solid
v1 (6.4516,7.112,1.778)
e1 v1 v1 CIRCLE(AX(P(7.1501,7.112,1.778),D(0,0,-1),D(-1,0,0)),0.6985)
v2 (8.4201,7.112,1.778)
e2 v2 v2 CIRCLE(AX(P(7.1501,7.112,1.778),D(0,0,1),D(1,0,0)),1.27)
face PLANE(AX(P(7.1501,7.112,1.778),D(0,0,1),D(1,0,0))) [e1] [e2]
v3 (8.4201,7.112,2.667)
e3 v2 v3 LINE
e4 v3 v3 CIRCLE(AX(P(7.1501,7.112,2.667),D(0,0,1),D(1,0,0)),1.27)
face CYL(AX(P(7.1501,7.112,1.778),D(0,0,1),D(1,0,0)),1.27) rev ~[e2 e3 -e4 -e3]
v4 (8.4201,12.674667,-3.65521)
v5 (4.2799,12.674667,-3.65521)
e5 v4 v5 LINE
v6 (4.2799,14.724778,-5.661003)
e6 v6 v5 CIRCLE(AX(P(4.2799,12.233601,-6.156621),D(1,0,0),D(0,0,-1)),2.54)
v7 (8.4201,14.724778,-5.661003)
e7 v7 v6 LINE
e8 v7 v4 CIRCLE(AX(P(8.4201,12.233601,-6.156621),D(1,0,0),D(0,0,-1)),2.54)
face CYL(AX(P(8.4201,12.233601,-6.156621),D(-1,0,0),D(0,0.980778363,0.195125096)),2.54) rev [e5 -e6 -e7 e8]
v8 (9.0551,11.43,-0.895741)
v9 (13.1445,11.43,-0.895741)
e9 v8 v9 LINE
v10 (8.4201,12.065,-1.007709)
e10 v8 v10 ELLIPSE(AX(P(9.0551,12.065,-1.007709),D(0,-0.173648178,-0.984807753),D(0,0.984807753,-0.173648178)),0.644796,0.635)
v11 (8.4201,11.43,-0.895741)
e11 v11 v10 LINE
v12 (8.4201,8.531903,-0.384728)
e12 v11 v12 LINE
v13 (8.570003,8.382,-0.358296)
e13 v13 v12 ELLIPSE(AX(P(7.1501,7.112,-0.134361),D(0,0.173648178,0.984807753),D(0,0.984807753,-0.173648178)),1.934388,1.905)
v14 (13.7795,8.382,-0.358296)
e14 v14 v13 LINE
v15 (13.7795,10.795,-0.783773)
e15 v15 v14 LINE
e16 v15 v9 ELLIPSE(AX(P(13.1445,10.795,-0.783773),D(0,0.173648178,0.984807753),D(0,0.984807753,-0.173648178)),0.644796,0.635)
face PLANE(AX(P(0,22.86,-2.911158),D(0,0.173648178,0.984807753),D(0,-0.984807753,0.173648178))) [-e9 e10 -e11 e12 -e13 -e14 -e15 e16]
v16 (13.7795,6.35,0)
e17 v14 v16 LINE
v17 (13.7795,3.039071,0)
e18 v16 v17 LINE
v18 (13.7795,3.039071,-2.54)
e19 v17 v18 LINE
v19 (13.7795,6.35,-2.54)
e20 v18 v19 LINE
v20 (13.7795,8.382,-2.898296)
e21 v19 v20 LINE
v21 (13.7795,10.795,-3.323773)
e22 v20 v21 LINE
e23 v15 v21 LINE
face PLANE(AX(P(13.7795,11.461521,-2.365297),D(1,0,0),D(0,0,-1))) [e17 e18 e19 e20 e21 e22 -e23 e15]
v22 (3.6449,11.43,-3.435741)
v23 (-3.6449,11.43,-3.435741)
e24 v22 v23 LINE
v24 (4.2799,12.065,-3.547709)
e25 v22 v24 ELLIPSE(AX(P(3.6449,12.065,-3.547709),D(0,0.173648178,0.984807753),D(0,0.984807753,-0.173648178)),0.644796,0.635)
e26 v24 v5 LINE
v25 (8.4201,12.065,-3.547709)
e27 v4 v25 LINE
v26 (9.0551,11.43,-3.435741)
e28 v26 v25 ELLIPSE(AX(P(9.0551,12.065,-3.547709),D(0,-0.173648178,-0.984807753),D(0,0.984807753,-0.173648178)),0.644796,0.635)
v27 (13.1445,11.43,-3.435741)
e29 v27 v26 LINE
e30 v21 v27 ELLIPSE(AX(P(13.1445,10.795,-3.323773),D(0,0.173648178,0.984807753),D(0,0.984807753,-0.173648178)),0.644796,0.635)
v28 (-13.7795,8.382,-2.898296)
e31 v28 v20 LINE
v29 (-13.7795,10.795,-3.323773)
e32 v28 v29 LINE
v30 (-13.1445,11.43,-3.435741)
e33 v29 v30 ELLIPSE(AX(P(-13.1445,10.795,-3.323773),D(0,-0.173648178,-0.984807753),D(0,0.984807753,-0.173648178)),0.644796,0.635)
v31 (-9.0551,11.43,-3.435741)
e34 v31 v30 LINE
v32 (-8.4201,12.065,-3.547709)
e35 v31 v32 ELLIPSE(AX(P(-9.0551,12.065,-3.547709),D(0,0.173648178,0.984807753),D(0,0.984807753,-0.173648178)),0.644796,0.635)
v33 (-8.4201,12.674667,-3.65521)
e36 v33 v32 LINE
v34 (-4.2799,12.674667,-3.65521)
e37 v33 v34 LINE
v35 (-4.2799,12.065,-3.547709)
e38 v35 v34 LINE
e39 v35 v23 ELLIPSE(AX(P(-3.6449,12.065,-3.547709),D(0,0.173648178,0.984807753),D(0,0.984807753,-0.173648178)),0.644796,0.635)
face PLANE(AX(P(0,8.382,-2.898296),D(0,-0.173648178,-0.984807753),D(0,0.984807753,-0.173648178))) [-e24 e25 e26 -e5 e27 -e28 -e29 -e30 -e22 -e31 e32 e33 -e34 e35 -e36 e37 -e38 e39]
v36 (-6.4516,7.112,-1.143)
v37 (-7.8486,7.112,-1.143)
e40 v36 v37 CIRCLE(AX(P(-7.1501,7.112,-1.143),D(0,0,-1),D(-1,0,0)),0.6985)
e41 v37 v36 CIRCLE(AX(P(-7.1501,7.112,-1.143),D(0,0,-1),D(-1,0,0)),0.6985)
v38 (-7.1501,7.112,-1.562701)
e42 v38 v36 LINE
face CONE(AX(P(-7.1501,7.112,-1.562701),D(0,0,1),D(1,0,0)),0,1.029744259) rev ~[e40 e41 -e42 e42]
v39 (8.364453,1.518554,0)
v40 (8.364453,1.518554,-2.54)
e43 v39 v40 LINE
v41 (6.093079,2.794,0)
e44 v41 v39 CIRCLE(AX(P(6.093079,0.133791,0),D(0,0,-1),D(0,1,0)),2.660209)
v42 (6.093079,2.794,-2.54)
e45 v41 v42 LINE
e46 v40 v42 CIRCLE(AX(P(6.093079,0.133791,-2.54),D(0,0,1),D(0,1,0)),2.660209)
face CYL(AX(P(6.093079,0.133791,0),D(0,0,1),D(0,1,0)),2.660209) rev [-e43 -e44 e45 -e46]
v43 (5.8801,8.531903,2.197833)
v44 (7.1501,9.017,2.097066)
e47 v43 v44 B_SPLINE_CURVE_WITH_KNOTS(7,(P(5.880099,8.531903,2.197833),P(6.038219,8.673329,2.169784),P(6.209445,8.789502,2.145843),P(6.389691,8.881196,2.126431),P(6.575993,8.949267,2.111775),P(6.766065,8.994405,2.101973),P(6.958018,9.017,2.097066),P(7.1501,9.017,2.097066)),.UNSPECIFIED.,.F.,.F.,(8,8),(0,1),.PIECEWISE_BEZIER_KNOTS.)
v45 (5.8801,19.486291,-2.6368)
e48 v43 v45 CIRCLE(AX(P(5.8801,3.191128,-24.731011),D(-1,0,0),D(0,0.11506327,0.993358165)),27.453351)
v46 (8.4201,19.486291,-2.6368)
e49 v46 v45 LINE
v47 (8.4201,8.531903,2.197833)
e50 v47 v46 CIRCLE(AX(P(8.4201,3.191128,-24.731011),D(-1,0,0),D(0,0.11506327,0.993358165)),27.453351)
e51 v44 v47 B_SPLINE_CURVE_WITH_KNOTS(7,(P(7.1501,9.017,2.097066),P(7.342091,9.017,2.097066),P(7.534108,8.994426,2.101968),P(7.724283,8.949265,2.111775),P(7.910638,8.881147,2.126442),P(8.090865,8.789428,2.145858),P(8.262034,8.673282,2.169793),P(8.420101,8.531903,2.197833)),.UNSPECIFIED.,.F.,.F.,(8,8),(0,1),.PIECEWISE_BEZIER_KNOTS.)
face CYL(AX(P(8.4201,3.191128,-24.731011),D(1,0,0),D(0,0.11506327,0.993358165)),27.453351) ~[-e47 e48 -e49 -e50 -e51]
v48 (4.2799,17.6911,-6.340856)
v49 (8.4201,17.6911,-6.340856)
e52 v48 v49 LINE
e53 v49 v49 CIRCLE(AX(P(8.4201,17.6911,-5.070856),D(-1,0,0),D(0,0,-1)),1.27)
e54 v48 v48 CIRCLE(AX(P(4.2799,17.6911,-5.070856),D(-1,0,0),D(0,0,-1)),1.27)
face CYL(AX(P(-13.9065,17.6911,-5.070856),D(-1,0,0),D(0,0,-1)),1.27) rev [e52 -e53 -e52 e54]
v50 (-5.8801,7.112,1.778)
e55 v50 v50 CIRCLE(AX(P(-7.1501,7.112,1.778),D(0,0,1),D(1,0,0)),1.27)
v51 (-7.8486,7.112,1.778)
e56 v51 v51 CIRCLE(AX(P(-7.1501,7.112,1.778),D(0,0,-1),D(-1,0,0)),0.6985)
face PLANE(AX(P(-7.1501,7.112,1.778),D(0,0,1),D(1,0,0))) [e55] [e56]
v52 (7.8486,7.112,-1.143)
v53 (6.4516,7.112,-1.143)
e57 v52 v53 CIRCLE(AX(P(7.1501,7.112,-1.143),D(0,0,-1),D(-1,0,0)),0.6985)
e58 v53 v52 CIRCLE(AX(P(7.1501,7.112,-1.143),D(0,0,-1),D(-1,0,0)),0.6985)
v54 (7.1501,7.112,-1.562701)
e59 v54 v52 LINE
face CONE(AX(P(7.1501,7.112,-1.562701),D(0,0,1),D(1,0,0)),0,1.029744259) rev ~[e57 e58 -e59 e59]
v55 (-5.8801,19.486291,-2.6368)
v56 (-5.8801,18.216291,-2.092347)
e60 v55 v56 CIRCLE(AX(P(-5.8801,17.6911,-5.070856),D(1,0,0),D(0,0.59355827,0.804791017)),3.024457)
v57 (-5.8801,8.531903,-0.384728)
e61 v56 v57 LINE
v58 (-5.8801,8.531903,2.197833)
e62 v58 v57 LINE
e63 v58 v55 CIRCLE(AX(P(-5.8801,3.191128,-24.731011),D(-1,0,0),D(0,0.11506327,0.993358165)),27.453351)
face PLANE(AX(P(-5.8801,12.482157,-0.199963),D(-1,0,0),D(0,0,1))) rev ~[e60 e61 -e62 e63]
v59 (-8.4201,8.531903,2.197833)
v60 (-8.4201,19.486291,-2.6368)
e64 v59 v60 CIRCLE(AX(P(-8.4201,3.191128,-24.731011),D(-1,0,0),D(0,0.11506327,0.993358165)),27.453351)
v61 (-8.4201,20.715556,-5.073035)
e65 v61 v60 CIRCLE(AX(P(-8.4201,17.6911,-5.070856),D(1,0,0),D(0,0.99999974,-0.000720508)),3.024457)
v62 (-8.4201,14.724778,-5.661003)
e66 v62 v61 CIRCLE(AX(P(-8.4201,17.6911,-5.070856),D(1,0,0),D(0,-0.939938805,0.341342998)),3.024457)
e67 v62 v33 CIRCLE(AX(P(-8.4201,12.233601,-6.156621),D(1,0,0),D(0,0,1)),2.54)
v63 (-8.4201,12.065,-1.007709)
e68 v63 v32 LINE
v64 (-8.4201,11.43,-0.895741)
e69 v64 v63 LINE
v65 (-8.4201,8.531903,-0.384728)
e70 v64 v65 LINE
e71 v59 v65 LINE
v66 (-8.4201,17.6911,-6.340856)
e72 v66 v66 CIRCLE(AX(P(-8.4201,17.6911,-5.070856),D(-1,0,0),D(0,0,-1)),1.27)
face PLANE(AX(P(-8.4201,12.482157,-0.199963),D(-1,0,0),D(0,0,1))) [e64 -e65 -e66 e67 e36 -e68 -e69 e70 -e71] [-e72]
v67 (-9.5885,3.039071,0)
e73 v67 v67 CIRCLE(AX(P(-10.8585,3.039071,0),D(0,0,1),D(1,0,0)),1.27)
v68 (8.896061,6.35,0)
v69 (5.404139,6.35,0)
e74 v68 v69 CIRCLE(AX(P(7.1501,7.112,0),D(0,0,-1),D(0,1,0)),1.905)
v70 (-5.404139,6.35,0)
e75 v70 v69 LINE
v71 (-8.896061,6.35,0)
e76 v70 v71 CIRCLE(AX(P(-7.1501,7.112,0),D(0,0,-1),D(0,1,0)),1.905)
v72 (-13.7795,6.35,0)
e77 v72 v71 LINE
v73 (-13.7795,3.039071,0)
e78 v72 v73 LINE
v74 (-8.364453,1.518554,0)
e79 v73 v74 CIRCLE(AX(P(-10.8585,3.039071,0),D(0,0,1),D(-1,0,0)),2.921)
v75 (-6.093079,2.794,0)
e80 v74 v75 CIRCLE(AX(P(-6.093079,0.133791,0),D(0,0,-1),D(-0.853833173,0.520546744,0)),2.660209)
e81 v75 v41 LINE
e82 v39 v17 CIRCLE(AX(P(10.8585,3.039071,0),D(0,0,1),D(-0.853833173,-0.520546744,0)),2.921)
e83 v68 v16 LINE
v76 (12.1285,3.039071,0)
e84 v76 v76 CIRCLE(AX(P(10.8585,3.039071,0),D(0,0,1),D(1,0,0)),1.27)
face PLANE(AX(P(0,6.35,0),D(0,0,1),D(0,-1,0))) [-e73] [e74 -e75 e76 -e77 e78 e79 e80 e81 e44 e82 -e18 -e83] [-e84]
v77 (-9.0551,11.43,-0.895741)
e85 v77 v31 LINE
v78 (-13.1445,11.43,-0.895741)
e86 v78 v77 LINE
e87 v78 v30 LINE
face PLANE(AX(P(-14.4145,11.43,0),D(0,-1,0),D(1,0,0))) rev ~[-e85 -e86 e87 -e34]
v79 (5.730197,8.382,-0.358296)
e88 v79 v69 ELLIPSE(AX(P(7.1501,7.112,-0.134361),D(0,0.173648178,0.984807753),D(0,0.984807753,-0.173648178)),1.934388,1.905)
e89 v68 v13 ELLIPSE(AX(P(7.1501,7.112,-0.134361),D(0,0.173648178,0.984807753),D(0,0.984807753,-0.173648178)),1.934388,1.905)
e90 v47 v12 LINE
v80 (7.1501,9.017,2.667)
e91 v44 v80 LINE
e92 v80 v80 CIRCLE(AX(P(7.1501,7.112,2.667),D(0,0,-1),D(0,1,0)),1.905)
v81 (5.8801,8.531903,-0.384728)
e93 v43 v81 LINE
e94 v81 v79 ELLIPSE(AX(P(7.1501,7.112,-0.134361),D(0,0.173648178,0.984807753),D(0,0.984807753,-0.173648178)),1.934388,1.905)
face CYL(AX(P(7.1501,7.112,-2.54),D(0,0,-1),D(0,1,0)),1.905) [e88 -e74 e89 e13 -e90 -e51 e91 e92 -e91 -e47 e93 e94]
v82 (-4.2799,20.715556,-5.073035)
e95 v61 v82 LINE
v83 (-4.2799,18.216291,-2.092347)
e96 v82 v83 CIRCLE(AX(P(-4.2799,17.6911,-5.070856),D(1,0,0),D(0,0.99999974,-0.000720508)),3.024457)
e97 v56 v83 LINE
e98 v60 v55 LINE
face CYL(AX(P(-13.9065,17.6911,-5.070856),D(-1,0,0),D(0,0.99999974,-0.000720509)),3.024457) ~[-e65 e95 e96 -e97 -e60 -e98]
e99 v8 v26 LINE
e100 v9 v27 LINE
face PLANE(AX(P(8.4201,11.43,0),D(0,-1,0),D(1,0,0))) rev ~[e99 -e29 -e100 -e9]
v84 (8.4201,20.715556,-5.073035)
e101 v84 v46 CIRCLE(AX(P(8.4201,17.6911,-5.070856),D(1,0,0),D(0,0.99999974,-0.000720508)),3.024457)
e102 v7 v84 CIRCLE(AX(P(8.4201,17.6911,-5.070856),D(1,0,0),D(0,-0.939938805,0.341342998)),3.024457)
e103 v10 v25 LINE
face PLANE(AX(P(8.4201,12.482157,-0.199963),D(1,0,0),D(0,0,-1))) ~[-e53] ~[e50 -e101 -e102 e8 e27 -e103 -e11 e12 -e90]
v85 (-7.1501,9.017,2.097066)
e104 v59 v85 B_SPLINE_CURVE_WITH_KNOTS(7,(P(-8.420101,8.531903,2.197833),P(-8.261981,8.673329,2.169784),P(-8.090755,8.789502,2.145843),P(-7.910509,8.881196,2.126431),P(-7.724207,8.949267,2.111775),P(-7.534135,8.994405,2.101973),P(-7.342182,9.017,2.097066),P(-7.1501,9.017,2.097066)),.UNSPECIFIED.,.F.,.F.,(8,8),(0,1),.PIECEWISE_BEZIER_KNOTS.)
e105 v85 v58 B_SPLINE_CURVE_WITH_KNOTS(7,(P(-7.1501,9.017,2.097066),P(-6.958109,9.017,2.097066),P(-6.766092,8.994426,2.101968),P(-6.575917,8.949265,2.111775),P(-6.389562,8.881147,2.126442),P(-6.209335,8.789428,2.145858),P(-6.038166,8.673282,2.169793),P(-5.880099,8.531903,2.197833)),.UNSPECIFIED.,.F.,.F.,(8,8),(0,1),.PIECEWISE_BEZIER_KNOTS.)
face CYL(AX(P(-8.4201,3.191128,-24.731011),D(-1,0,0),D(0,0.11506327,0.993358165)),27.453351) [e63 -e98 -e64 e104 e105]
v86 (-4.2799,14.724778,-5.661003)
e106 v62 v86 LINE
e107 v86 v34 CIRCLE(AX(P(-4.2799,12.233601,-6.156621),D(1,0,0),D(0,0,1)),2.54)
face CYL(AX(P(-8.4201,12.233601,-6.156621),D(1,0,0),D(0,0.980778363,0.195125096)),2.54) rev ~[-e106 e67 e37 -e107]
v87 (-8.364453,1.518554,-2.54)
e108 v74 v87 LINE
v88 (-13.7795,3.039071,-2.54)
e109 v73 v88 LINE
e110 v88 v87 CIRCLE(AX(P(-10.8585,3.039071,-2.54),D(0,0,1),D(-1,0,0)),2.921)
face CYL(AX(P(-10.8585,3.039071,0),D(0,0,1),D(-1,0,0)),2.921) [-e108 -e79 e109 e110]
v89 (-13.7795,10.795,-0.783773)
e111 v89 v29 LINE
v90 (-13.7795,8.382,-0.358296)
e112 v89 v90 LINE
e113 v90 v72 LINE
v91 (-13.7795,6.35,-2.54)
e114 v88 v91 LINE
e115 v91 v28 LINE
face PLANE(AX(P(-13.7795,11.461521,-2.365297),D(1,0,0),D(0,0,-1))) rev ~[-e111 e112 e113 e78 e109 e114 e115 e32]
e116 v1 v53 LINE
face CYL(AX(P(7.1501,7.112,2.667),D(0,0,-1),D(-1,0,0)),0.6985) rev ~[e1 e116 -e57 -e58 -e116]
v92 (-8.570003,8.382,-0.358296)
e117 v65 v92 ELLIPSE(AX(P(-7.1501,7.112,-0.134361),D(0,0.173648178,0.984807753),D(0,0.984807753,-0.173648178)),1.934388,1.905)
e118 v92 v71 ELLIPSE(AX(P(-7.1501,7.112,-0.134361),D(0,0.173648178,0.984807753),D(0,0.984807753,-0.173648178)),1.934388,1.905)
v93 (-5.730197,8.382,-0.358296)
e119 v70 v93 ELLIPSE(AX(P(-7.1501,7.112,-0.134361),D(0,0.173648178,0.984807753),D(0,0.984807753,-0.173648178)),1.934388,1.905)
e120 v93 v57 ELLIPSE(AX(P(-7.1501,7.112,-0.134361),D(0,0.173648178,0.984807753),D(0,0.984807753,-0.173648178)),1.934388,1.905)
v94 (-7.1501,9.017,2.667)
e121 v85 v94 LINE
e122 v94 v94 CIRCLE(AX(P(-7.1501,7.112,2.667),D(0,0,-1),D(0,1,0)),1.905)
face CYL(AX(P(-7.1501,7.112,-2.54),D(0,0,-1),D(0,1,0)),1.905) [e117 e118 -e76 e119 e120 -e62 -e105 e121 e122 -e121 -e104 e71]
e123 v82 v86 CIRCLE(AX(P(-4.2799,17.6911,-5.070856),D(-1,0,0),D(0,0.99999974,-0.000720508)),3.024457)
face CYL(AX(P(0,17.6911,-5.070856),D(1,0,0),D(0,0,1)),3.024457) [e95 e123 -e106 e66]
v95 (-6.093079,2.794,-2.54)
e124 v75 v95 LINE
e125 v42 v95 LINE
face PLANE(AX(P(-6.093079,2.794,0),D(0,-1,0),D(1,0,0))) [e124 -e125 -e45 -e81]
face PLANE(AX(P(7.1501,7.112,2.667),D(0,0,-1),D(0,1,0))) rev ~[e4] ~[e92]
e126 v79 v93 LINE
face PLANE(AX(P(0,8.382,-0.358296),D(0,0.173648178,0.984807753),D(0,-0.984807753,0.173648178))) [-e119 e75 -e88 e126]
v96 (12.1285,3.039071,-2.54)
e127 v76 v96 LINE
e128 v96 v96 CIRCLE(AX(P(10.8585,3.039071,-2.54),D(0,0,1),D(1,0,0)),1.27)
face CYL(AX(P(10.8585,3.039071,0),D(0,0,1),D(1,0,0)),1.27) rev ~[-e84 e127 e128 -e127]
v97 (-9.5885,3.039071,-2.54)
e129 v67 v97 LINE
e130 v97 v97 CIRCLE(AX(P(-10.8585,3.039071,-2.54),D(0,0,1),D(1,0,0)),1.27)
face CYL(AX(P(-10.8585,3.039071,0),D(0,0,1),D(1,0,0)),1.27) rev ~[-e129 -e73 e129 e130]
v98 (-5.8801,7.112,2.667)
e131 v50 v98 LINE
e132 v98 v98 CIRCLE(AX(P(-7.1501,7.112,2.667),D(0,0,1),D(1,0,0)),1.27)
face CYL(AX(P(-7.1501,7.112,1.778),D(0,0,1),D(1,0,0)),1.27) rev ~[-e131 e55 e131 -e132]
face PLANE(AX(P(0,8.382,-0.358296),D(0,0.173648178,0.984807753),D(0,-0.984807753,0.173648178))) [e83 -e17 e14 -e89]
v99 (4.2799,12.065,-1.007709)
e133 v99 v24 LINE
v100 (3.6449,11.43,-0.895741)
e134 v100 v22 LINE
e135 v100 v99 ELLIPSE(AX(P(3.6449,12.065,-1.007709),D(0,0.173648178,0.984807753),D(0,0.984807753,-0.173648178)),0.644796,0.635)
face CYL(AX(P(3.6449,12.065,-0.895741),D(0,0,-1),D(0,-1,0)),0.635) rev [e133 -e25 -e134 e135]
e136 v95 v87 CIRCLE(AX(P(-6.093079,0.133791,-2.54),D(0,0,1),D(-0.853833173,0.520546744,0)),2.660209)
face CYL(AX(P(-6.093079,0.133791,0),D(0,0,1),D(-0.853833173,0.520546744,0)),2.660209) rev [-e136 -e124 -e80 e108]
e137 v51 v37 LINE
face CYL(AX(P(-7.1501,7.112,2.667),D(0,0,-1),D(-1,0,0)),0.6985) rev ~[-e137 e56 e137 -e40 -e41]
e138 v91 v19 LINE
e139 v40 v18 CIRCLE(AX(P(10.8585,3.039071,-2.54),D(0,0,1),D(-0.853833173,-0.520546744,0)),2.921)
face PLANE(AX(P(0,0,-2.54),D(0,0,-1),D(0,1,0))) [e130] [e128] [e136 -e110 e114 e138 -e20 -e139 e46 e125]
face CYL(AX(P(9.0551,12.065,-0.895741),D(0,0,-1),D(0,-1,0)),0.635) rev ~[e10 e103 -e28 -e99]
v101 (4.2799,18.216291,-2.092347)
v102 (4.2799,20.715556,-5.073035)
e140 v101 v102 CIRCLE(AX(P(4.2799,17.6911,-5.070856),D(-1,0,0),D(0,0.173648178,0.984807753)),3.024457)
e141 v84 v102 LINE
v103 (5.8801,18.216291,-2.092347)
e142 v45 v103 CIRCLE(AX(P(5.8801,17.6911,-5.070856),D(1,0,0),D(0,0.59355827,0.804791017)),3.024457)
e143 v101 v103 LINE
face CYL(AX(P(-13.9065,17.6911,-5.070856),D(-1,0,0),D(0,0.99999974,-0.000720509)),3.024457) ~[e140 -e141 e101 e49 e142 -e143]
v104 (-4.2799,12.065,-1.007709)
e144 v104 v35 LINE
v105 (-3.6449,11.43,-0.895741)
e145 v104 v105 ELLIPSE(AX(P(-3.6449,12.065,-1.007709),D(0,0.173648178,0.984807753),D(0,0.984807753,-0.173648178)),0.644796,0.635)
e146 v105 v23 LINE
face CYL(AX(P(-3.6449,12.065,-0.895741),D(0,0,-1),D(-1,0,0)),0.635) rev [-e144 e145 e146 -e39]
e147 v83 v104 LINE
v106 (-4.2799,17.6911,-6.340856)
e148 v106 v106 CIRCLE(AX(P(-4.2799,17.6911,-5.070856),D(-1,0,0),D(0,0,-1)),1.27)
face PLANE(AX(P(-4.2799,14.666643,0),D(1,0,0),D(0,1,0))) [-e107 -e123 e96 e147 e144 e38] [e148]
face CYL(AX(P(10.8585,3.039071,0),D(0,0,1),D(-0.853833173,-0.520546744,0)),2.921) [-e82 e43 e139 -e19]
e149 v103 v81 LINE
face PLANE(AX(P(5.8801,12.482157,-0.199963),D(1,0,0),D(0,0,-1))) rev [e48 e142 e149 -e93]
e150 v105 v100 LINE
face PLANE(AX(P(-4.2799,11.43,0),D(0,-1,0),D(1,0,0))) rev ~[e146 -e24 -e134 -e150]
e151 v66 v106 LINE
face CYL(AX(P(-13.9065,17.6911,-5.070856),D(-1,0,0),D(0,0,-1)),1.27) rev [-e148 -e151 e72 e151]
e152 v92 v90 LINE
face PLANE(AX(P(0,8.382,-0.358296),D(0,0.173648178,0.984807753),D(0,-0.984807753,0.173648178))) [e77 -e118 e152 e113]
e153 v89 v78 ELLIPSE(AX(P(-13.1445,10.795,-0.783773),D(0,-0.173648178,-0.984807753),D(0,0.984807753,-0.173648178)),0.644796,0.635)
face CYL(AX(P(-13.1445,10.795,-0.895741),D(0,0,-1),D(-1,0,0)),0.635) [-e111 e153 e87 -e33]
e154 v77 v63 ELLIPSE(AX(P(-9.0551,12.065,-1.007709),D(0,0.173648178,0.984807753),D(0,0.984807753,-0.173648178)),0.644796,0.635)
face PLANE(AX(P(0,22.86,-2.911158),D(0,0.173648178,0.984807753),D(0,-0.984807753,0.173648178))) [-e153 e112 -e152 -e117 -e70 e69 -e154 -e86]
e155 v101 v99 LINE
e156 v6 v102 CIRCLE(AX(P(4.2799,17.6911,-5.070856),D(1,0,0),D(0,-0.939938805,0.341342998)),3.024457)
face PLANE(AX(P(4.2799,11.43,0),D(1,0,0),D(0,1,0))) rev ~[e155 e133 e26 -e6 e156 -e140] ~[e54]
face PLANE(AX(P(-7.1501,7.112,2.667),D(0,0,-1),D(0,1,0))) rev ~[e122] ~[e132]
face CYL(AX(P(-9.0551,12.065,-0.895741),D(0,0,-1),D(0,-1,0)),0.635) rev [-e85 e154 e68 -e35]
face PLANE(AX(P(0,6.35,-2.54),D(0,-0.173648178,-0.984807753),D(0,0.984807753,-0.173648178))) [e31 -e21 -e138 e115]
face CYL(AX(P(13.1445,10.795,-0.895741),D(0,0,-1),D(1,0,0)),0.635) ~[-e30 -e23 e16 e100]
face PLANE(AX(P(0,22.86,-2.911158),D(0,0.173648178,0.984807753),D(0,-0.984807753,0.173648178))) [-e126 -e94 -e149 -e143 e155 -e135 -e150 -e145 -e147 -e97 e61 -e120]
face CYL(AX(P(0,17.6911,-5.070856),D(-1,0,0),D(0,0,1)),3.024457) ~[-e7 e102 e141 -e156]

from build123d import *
from build123d.topology import SkipClean

# Parameters (mm, degrees)
BOSS_EXTRUDE1_DEPTH                                 = 13.7795
SKETCH3_R                                           = 1.27
CUT_EXTRUDE1_DEPTH                                  = 28.24278526
BOSS_EXTRUDE3_REACH                                 = 29.243
SKETCH4_R                                           = 3.024456955
BOSS_EXTRUDE3_DIRECTION_2_REACH                     = 29.243
CUT_EXTRUDE2_START                                  = -27.686
SKETCH5_R                                           = 1.27
CUT_EXTRUDE2_DEPTH                                  = 27.686
SKETCH6_W                                           = 5.3594
SKETCH6_H                                           = 6.04891391
SKETCH6_W_2                                         = 8.5598
CUT_EXTRUDE3_DEPTH                                  = 27.163772894
FILLET1_R                                           = 2.54
BOSS_EXTRUDE5_DEPTH                                 = 2.54
SKETCH8_R                                           = 1.905
BOSS_EXTRUDE6_DEPTH                                 = 5.207
CBORE_FOR_00_BINDING_HEAD_MACHINE_SCREW_D           = 1.397
CBORE_FOR_00_BINDING_HEAD_MACHINE_SCREW_DEPTH       = 3.81
CBORE_FOR_00_BINDING_HEAD_MACHINE_SCREW_CBORE_D     = 2.54
CBORE_FOR_00_BINDING_HEAD_MACHINE_SCREW_CBORE_DEPTH = 0.889
CBORE_FOR_00_BINDING_HEAD_MACHINE_SCREW_TIP         = 0.419701142
FILLET3_R                                           = 0.635


with BuildPart() as part:
    # Sketch2 → Boss-Extrude1 (new, symmetric)
    with BuildSketch(Plane(origin=(0, 0, 0), x_dir=(0, 0, -1), z_dir=(1, 0, 0))):
        Polygon((0.358296425, 8.382), (0, 6.35), (0, 0), (2.54, 0), (2.54, 6.35), (2.898296425, 8.382), (5.451158451, 22.86), (2.911158451, 22.86), align=None)
    extrude(amount=BOSS_EXTRUDE1_DEPTH, both=True)

    # Sketch3 → Cut-Extrude1 (cut, through all)
    with BuildSketch(Plane.XY):
        with Locations((-10.8585, 3.039071392)):
            Circle(SKETCH3_R)
        with Locations((10.8585, 3.039071392)):
            Circle(SKETCH3_R)
        with BuildLine():
            Line((-6.093079, 2.794), (6.093079, 2.794))
            ThreePointArc((6.093079, 2.794), (7.395567274, 2.453324554), (8.364453302, 1.518554352))
            ThreePointArc((8.364453302, 1.518554352), (11.648161508, 0.226834613), (13.7795, 3.039071392))
            Line((13.7795, 3.039071392), (14.4145, 3.039071392))
            Line((14.4145, 3.039071392), (14.4145, -0.635))
            Line((14.4145, -0.635), (-14.4145, -0.635))
            Line((-14.4145, -0.635), (-14.4145, 3.039071392))
            Line((-14.4145, 3.039071392), (-13.7795, 3.039071392))
            ThreePointArc((-13.7795, 3.039071392), (-11.648161508, 0.226834613), (-8.364453302, 1.518554352))
            ThreePointArc((-8.364453302, 1.518554352), (-7.395567274, 2.453324554), (-6.093079, 2.794))
        make_face()
        Polygon((-14.4145, 11.43), (-8.4201, 11.43), (-8.4201, 22.86), (-4.2799, 22.86), (-4.2799, 11.43), (4.2799, 11.43), (4.2799, 22.86), (8.4201, 22.86), (8.4201, 11.43), (14.4145, 11.43), (14.4145, 23.495), (-14.4145, 23.495), align=None)
    extrude(amount=-CUT_EXTRUDE1_DEPTH, mode=Mode.SUBTRACT)

    # Boss-Extrude3: up to this face of the body (flat: up to its plane)
    boss_extrude3_end = Plane(part.part.faces().sort_by_distance((13.7795, 7.234535696, -1.541147855))[0])
    # Sketch4 → Boss-Extrude3 (add, up to the picked face)
    with BuildSketch(Plane(origin=(0, 0, 0), x_dir=(0, 0, -1), z_dir=(1, 0, 0)), mode=Mode.PRIVATE) as boss_extrude3_sk1:
        with Locations(Location((5.070856, 17.6911, 0), (0, 0, 180))):
            Circle(SKETCH4_R)
    boss_extrude3_tool1 = split(extrude(boss_extrude3_sk1.sketch, amount=BOSS_EXTRUDE3_REACH, mode=Mode.PRIVATE), bisect_by=boss_extrude3_end, keep=Keep.BOTH, mode=Mode.PRIVATE)
    add(boss_extrude3_tool1.solids().sort_by(Axis((0, 17.6911, -5.070856), (1, 0, 0)))[0])

    # Boss-Extrude3 direction 2: up to this face of the body (flat: up to its plane)
    boss_extrude3_direction_2_end = Plane(part.part.faces().sort_by_distance((-13.7795, 7.234535696, -1.541147855))[0])
    # Sketch4 → Boss-Extrude3 direction 2 (add, up to the picked face)
    with BuildSketch(Plane(origin=(0, 0, 0), x_dir=(0, 0, -1), z_dir=(1, 0, 0)), mode=Mode.PRIVATE) as boss_extrude3_direction_2_sk1:
        with Locations(Location((5.070856, 17.6911, 0), (0, 0, 180))):
            Circle(SKETCH4_R)
    boss_extrude3_direction_2_tool1 = split(extrude(boss_extrude3_direction_2_sk1.sketch, amount=-BOSS_EXTRUDE3_DIRECTION_2_REACH, mode=Mode.PRIVATE), bisect_by=boss_extrude3_direction_2_end, keep=Keep.BOTH, mode=Mode.PRIVATE)
    add(boss_extrude3_direction_2_tool1.solids().sort_by(Axis((0, 17.6911, -5.070856), (-1, 0, 0)))[0])

    # Sketch5 → Cut-Extrude2 (cut)
    with SkipClean():  # the faces are left unmerged after this step: merging them gives an invalid solid
        with BuildSketch(Plane(origin=(13.7795, 0, 0), x_dir=(0, 0, -1), z_dir=(1, 0, 0)).offset(CUT_EXTRUDE2_START)):
            with Locations((5.070856, 17.6911)):
                Circle(SKETCH5_R)
            with BuildLine():
                Line((2.092347342, 18.216291439), (2.911158451, 22.86))
                Line((2.911158451, 22.86), (5.451158451, 22.86))
                Line((5.451158451, 22.86), (5.073035146, 20.71555617))
                ThreePointArc((5.073035146, 20.71555617), (3.12760733, 20.008668658), (2.092347342, 18.216291439))
            make_face()
        extrude(amount=CUT_EXTRUDE2_DEPTH, mode=Mode.SUBTRACT)

    # Sketch6 → Cut-Extrude3 (cut, through all)
    with BuildSketch(Plane.XY):
        with Locations((-11.0998, 17.6911)):
            Rectangle(SKETCH6_W, SKETCH6_H)
        with Locations((0, 17.6911)):
            Rectangle(SKETCH6_W_2, SKETCH6_H)
        with Locations((11.0998, 17.6911)):
            Rectangle(SKETCH6_W, SKETCH6_H)
    extrude(amount=-CUT_EXTRUDE3_DEPTH, mode=Mode.SUBTRACT)

    # Fillet1
    fillet1_edges = [part.edges().sort_by_distance(p)[0] for p in [
        (-6.35, 14.848295543, -4.038478794),
        (6.35, 14.848295543, -4.038478794),
    ]]
    fillet(fillet1_edges, radius=FILLET1_R)

    # Sketch7 → Boss-Extrude5 (add)
    with BuildSketch(Plane.ZY.offset(8.4201)):
        with BuildLine():
            Line((0, 6.35), (2.54, 6.35))
            ThreePointArc((2.54, 6.35), (0.810559409, 13.256647786), (-2.636800213, 19.486291439))
            ThreePointArc((-2.636800213, 19.486291439), (-2.29107391, 18.882801056), (-2.092347342, 18.216291439))
            Line((-2.092347342, 18.216291439), (0, 6.35))
        make_face()
    boss_extrude5 = extrude(amount=-BOSS_EXTRUDE5_DEPTH)

    # Mirror1: Boss-Extrude5 across plane
    add(boss_extrude5.mirror(Plane(origin=(0, 0, 0), x_dir=(0, 0, 1), z_dir=(1, 0, 0))))

    # Sketch8 → Boss-Extrude6 (add)
    with BuildSketch(Plane(origin=(0, 0, -2.54), x_dir=(-1, 0, 0), z_dir=(0, 0, -1))):
        with Locations(Location((7.1501, 7.112, 0), (0, 0, 90))):
            Circle(SKETCH8_R)
        with Locations(Location((-7.1501, 7.112, 0), (0, 0, 90))):
            Circle(SKETCH8_R)
    extrude(amount=-BOSS_EXTRUDE6_DEPTH)

    # CBORE for #00 Binding Head Machine Screw1
    with Locations(Plane.XY.offset(2.667)):
        with Locations((-7.1501, 7.112), (7.1501, 7.112)):
            CounterBoreHole(CBORE_FOR_00_BINDING_HEAD_MACHINE_SCREW_D / 2, CBORE_FOR_00_BINDING_HEAD_MACHINE_SCREW_CBORE_D / 2, CBORE_FOR_00_BINDING_HEAD_MACHINE_SCREW_CBORE_DEPTH, depth=CBORE_FOR_00_BINDING_HEAD_MACHINE_SCREW_DEPTH)
            with Locations((0, 0, -(CBORE_FOR_00_BINDING_HEAD_MACHINE_SCREW_DEPTH + CBORE_FOR_00_BINDING_HEAD_MACHINE_SCREW_TIP / 2))):  # 118° drill point
                Cone(0, CBORE_FOR_00_BINDING_HEAD_MACHINE_SCREW_D / 2, CBORE_FOR_00_BINDING_HEAD_MACHINE_SCREW_TIP, mode=Mode.SUBTRACT)

    # Fillet3
    fillet3_edges = [part.edges().sort_by_distance(p)[0] for p in [
        (-13.7795, 11.43, -2.165741062),
        (13.7795, 11.43, -2.165741062),
        (8.4201, 11.43, -2.165741062),
        (4.2799, 11.43, -2.165741062),
        (-4.2799, 11.43, -2.165741062),
        (-8.4201, 11.43, -2.165741062),
    ]]
    fillet(fillet3_edges, radius=FILLET3_R)


solid = part.part
